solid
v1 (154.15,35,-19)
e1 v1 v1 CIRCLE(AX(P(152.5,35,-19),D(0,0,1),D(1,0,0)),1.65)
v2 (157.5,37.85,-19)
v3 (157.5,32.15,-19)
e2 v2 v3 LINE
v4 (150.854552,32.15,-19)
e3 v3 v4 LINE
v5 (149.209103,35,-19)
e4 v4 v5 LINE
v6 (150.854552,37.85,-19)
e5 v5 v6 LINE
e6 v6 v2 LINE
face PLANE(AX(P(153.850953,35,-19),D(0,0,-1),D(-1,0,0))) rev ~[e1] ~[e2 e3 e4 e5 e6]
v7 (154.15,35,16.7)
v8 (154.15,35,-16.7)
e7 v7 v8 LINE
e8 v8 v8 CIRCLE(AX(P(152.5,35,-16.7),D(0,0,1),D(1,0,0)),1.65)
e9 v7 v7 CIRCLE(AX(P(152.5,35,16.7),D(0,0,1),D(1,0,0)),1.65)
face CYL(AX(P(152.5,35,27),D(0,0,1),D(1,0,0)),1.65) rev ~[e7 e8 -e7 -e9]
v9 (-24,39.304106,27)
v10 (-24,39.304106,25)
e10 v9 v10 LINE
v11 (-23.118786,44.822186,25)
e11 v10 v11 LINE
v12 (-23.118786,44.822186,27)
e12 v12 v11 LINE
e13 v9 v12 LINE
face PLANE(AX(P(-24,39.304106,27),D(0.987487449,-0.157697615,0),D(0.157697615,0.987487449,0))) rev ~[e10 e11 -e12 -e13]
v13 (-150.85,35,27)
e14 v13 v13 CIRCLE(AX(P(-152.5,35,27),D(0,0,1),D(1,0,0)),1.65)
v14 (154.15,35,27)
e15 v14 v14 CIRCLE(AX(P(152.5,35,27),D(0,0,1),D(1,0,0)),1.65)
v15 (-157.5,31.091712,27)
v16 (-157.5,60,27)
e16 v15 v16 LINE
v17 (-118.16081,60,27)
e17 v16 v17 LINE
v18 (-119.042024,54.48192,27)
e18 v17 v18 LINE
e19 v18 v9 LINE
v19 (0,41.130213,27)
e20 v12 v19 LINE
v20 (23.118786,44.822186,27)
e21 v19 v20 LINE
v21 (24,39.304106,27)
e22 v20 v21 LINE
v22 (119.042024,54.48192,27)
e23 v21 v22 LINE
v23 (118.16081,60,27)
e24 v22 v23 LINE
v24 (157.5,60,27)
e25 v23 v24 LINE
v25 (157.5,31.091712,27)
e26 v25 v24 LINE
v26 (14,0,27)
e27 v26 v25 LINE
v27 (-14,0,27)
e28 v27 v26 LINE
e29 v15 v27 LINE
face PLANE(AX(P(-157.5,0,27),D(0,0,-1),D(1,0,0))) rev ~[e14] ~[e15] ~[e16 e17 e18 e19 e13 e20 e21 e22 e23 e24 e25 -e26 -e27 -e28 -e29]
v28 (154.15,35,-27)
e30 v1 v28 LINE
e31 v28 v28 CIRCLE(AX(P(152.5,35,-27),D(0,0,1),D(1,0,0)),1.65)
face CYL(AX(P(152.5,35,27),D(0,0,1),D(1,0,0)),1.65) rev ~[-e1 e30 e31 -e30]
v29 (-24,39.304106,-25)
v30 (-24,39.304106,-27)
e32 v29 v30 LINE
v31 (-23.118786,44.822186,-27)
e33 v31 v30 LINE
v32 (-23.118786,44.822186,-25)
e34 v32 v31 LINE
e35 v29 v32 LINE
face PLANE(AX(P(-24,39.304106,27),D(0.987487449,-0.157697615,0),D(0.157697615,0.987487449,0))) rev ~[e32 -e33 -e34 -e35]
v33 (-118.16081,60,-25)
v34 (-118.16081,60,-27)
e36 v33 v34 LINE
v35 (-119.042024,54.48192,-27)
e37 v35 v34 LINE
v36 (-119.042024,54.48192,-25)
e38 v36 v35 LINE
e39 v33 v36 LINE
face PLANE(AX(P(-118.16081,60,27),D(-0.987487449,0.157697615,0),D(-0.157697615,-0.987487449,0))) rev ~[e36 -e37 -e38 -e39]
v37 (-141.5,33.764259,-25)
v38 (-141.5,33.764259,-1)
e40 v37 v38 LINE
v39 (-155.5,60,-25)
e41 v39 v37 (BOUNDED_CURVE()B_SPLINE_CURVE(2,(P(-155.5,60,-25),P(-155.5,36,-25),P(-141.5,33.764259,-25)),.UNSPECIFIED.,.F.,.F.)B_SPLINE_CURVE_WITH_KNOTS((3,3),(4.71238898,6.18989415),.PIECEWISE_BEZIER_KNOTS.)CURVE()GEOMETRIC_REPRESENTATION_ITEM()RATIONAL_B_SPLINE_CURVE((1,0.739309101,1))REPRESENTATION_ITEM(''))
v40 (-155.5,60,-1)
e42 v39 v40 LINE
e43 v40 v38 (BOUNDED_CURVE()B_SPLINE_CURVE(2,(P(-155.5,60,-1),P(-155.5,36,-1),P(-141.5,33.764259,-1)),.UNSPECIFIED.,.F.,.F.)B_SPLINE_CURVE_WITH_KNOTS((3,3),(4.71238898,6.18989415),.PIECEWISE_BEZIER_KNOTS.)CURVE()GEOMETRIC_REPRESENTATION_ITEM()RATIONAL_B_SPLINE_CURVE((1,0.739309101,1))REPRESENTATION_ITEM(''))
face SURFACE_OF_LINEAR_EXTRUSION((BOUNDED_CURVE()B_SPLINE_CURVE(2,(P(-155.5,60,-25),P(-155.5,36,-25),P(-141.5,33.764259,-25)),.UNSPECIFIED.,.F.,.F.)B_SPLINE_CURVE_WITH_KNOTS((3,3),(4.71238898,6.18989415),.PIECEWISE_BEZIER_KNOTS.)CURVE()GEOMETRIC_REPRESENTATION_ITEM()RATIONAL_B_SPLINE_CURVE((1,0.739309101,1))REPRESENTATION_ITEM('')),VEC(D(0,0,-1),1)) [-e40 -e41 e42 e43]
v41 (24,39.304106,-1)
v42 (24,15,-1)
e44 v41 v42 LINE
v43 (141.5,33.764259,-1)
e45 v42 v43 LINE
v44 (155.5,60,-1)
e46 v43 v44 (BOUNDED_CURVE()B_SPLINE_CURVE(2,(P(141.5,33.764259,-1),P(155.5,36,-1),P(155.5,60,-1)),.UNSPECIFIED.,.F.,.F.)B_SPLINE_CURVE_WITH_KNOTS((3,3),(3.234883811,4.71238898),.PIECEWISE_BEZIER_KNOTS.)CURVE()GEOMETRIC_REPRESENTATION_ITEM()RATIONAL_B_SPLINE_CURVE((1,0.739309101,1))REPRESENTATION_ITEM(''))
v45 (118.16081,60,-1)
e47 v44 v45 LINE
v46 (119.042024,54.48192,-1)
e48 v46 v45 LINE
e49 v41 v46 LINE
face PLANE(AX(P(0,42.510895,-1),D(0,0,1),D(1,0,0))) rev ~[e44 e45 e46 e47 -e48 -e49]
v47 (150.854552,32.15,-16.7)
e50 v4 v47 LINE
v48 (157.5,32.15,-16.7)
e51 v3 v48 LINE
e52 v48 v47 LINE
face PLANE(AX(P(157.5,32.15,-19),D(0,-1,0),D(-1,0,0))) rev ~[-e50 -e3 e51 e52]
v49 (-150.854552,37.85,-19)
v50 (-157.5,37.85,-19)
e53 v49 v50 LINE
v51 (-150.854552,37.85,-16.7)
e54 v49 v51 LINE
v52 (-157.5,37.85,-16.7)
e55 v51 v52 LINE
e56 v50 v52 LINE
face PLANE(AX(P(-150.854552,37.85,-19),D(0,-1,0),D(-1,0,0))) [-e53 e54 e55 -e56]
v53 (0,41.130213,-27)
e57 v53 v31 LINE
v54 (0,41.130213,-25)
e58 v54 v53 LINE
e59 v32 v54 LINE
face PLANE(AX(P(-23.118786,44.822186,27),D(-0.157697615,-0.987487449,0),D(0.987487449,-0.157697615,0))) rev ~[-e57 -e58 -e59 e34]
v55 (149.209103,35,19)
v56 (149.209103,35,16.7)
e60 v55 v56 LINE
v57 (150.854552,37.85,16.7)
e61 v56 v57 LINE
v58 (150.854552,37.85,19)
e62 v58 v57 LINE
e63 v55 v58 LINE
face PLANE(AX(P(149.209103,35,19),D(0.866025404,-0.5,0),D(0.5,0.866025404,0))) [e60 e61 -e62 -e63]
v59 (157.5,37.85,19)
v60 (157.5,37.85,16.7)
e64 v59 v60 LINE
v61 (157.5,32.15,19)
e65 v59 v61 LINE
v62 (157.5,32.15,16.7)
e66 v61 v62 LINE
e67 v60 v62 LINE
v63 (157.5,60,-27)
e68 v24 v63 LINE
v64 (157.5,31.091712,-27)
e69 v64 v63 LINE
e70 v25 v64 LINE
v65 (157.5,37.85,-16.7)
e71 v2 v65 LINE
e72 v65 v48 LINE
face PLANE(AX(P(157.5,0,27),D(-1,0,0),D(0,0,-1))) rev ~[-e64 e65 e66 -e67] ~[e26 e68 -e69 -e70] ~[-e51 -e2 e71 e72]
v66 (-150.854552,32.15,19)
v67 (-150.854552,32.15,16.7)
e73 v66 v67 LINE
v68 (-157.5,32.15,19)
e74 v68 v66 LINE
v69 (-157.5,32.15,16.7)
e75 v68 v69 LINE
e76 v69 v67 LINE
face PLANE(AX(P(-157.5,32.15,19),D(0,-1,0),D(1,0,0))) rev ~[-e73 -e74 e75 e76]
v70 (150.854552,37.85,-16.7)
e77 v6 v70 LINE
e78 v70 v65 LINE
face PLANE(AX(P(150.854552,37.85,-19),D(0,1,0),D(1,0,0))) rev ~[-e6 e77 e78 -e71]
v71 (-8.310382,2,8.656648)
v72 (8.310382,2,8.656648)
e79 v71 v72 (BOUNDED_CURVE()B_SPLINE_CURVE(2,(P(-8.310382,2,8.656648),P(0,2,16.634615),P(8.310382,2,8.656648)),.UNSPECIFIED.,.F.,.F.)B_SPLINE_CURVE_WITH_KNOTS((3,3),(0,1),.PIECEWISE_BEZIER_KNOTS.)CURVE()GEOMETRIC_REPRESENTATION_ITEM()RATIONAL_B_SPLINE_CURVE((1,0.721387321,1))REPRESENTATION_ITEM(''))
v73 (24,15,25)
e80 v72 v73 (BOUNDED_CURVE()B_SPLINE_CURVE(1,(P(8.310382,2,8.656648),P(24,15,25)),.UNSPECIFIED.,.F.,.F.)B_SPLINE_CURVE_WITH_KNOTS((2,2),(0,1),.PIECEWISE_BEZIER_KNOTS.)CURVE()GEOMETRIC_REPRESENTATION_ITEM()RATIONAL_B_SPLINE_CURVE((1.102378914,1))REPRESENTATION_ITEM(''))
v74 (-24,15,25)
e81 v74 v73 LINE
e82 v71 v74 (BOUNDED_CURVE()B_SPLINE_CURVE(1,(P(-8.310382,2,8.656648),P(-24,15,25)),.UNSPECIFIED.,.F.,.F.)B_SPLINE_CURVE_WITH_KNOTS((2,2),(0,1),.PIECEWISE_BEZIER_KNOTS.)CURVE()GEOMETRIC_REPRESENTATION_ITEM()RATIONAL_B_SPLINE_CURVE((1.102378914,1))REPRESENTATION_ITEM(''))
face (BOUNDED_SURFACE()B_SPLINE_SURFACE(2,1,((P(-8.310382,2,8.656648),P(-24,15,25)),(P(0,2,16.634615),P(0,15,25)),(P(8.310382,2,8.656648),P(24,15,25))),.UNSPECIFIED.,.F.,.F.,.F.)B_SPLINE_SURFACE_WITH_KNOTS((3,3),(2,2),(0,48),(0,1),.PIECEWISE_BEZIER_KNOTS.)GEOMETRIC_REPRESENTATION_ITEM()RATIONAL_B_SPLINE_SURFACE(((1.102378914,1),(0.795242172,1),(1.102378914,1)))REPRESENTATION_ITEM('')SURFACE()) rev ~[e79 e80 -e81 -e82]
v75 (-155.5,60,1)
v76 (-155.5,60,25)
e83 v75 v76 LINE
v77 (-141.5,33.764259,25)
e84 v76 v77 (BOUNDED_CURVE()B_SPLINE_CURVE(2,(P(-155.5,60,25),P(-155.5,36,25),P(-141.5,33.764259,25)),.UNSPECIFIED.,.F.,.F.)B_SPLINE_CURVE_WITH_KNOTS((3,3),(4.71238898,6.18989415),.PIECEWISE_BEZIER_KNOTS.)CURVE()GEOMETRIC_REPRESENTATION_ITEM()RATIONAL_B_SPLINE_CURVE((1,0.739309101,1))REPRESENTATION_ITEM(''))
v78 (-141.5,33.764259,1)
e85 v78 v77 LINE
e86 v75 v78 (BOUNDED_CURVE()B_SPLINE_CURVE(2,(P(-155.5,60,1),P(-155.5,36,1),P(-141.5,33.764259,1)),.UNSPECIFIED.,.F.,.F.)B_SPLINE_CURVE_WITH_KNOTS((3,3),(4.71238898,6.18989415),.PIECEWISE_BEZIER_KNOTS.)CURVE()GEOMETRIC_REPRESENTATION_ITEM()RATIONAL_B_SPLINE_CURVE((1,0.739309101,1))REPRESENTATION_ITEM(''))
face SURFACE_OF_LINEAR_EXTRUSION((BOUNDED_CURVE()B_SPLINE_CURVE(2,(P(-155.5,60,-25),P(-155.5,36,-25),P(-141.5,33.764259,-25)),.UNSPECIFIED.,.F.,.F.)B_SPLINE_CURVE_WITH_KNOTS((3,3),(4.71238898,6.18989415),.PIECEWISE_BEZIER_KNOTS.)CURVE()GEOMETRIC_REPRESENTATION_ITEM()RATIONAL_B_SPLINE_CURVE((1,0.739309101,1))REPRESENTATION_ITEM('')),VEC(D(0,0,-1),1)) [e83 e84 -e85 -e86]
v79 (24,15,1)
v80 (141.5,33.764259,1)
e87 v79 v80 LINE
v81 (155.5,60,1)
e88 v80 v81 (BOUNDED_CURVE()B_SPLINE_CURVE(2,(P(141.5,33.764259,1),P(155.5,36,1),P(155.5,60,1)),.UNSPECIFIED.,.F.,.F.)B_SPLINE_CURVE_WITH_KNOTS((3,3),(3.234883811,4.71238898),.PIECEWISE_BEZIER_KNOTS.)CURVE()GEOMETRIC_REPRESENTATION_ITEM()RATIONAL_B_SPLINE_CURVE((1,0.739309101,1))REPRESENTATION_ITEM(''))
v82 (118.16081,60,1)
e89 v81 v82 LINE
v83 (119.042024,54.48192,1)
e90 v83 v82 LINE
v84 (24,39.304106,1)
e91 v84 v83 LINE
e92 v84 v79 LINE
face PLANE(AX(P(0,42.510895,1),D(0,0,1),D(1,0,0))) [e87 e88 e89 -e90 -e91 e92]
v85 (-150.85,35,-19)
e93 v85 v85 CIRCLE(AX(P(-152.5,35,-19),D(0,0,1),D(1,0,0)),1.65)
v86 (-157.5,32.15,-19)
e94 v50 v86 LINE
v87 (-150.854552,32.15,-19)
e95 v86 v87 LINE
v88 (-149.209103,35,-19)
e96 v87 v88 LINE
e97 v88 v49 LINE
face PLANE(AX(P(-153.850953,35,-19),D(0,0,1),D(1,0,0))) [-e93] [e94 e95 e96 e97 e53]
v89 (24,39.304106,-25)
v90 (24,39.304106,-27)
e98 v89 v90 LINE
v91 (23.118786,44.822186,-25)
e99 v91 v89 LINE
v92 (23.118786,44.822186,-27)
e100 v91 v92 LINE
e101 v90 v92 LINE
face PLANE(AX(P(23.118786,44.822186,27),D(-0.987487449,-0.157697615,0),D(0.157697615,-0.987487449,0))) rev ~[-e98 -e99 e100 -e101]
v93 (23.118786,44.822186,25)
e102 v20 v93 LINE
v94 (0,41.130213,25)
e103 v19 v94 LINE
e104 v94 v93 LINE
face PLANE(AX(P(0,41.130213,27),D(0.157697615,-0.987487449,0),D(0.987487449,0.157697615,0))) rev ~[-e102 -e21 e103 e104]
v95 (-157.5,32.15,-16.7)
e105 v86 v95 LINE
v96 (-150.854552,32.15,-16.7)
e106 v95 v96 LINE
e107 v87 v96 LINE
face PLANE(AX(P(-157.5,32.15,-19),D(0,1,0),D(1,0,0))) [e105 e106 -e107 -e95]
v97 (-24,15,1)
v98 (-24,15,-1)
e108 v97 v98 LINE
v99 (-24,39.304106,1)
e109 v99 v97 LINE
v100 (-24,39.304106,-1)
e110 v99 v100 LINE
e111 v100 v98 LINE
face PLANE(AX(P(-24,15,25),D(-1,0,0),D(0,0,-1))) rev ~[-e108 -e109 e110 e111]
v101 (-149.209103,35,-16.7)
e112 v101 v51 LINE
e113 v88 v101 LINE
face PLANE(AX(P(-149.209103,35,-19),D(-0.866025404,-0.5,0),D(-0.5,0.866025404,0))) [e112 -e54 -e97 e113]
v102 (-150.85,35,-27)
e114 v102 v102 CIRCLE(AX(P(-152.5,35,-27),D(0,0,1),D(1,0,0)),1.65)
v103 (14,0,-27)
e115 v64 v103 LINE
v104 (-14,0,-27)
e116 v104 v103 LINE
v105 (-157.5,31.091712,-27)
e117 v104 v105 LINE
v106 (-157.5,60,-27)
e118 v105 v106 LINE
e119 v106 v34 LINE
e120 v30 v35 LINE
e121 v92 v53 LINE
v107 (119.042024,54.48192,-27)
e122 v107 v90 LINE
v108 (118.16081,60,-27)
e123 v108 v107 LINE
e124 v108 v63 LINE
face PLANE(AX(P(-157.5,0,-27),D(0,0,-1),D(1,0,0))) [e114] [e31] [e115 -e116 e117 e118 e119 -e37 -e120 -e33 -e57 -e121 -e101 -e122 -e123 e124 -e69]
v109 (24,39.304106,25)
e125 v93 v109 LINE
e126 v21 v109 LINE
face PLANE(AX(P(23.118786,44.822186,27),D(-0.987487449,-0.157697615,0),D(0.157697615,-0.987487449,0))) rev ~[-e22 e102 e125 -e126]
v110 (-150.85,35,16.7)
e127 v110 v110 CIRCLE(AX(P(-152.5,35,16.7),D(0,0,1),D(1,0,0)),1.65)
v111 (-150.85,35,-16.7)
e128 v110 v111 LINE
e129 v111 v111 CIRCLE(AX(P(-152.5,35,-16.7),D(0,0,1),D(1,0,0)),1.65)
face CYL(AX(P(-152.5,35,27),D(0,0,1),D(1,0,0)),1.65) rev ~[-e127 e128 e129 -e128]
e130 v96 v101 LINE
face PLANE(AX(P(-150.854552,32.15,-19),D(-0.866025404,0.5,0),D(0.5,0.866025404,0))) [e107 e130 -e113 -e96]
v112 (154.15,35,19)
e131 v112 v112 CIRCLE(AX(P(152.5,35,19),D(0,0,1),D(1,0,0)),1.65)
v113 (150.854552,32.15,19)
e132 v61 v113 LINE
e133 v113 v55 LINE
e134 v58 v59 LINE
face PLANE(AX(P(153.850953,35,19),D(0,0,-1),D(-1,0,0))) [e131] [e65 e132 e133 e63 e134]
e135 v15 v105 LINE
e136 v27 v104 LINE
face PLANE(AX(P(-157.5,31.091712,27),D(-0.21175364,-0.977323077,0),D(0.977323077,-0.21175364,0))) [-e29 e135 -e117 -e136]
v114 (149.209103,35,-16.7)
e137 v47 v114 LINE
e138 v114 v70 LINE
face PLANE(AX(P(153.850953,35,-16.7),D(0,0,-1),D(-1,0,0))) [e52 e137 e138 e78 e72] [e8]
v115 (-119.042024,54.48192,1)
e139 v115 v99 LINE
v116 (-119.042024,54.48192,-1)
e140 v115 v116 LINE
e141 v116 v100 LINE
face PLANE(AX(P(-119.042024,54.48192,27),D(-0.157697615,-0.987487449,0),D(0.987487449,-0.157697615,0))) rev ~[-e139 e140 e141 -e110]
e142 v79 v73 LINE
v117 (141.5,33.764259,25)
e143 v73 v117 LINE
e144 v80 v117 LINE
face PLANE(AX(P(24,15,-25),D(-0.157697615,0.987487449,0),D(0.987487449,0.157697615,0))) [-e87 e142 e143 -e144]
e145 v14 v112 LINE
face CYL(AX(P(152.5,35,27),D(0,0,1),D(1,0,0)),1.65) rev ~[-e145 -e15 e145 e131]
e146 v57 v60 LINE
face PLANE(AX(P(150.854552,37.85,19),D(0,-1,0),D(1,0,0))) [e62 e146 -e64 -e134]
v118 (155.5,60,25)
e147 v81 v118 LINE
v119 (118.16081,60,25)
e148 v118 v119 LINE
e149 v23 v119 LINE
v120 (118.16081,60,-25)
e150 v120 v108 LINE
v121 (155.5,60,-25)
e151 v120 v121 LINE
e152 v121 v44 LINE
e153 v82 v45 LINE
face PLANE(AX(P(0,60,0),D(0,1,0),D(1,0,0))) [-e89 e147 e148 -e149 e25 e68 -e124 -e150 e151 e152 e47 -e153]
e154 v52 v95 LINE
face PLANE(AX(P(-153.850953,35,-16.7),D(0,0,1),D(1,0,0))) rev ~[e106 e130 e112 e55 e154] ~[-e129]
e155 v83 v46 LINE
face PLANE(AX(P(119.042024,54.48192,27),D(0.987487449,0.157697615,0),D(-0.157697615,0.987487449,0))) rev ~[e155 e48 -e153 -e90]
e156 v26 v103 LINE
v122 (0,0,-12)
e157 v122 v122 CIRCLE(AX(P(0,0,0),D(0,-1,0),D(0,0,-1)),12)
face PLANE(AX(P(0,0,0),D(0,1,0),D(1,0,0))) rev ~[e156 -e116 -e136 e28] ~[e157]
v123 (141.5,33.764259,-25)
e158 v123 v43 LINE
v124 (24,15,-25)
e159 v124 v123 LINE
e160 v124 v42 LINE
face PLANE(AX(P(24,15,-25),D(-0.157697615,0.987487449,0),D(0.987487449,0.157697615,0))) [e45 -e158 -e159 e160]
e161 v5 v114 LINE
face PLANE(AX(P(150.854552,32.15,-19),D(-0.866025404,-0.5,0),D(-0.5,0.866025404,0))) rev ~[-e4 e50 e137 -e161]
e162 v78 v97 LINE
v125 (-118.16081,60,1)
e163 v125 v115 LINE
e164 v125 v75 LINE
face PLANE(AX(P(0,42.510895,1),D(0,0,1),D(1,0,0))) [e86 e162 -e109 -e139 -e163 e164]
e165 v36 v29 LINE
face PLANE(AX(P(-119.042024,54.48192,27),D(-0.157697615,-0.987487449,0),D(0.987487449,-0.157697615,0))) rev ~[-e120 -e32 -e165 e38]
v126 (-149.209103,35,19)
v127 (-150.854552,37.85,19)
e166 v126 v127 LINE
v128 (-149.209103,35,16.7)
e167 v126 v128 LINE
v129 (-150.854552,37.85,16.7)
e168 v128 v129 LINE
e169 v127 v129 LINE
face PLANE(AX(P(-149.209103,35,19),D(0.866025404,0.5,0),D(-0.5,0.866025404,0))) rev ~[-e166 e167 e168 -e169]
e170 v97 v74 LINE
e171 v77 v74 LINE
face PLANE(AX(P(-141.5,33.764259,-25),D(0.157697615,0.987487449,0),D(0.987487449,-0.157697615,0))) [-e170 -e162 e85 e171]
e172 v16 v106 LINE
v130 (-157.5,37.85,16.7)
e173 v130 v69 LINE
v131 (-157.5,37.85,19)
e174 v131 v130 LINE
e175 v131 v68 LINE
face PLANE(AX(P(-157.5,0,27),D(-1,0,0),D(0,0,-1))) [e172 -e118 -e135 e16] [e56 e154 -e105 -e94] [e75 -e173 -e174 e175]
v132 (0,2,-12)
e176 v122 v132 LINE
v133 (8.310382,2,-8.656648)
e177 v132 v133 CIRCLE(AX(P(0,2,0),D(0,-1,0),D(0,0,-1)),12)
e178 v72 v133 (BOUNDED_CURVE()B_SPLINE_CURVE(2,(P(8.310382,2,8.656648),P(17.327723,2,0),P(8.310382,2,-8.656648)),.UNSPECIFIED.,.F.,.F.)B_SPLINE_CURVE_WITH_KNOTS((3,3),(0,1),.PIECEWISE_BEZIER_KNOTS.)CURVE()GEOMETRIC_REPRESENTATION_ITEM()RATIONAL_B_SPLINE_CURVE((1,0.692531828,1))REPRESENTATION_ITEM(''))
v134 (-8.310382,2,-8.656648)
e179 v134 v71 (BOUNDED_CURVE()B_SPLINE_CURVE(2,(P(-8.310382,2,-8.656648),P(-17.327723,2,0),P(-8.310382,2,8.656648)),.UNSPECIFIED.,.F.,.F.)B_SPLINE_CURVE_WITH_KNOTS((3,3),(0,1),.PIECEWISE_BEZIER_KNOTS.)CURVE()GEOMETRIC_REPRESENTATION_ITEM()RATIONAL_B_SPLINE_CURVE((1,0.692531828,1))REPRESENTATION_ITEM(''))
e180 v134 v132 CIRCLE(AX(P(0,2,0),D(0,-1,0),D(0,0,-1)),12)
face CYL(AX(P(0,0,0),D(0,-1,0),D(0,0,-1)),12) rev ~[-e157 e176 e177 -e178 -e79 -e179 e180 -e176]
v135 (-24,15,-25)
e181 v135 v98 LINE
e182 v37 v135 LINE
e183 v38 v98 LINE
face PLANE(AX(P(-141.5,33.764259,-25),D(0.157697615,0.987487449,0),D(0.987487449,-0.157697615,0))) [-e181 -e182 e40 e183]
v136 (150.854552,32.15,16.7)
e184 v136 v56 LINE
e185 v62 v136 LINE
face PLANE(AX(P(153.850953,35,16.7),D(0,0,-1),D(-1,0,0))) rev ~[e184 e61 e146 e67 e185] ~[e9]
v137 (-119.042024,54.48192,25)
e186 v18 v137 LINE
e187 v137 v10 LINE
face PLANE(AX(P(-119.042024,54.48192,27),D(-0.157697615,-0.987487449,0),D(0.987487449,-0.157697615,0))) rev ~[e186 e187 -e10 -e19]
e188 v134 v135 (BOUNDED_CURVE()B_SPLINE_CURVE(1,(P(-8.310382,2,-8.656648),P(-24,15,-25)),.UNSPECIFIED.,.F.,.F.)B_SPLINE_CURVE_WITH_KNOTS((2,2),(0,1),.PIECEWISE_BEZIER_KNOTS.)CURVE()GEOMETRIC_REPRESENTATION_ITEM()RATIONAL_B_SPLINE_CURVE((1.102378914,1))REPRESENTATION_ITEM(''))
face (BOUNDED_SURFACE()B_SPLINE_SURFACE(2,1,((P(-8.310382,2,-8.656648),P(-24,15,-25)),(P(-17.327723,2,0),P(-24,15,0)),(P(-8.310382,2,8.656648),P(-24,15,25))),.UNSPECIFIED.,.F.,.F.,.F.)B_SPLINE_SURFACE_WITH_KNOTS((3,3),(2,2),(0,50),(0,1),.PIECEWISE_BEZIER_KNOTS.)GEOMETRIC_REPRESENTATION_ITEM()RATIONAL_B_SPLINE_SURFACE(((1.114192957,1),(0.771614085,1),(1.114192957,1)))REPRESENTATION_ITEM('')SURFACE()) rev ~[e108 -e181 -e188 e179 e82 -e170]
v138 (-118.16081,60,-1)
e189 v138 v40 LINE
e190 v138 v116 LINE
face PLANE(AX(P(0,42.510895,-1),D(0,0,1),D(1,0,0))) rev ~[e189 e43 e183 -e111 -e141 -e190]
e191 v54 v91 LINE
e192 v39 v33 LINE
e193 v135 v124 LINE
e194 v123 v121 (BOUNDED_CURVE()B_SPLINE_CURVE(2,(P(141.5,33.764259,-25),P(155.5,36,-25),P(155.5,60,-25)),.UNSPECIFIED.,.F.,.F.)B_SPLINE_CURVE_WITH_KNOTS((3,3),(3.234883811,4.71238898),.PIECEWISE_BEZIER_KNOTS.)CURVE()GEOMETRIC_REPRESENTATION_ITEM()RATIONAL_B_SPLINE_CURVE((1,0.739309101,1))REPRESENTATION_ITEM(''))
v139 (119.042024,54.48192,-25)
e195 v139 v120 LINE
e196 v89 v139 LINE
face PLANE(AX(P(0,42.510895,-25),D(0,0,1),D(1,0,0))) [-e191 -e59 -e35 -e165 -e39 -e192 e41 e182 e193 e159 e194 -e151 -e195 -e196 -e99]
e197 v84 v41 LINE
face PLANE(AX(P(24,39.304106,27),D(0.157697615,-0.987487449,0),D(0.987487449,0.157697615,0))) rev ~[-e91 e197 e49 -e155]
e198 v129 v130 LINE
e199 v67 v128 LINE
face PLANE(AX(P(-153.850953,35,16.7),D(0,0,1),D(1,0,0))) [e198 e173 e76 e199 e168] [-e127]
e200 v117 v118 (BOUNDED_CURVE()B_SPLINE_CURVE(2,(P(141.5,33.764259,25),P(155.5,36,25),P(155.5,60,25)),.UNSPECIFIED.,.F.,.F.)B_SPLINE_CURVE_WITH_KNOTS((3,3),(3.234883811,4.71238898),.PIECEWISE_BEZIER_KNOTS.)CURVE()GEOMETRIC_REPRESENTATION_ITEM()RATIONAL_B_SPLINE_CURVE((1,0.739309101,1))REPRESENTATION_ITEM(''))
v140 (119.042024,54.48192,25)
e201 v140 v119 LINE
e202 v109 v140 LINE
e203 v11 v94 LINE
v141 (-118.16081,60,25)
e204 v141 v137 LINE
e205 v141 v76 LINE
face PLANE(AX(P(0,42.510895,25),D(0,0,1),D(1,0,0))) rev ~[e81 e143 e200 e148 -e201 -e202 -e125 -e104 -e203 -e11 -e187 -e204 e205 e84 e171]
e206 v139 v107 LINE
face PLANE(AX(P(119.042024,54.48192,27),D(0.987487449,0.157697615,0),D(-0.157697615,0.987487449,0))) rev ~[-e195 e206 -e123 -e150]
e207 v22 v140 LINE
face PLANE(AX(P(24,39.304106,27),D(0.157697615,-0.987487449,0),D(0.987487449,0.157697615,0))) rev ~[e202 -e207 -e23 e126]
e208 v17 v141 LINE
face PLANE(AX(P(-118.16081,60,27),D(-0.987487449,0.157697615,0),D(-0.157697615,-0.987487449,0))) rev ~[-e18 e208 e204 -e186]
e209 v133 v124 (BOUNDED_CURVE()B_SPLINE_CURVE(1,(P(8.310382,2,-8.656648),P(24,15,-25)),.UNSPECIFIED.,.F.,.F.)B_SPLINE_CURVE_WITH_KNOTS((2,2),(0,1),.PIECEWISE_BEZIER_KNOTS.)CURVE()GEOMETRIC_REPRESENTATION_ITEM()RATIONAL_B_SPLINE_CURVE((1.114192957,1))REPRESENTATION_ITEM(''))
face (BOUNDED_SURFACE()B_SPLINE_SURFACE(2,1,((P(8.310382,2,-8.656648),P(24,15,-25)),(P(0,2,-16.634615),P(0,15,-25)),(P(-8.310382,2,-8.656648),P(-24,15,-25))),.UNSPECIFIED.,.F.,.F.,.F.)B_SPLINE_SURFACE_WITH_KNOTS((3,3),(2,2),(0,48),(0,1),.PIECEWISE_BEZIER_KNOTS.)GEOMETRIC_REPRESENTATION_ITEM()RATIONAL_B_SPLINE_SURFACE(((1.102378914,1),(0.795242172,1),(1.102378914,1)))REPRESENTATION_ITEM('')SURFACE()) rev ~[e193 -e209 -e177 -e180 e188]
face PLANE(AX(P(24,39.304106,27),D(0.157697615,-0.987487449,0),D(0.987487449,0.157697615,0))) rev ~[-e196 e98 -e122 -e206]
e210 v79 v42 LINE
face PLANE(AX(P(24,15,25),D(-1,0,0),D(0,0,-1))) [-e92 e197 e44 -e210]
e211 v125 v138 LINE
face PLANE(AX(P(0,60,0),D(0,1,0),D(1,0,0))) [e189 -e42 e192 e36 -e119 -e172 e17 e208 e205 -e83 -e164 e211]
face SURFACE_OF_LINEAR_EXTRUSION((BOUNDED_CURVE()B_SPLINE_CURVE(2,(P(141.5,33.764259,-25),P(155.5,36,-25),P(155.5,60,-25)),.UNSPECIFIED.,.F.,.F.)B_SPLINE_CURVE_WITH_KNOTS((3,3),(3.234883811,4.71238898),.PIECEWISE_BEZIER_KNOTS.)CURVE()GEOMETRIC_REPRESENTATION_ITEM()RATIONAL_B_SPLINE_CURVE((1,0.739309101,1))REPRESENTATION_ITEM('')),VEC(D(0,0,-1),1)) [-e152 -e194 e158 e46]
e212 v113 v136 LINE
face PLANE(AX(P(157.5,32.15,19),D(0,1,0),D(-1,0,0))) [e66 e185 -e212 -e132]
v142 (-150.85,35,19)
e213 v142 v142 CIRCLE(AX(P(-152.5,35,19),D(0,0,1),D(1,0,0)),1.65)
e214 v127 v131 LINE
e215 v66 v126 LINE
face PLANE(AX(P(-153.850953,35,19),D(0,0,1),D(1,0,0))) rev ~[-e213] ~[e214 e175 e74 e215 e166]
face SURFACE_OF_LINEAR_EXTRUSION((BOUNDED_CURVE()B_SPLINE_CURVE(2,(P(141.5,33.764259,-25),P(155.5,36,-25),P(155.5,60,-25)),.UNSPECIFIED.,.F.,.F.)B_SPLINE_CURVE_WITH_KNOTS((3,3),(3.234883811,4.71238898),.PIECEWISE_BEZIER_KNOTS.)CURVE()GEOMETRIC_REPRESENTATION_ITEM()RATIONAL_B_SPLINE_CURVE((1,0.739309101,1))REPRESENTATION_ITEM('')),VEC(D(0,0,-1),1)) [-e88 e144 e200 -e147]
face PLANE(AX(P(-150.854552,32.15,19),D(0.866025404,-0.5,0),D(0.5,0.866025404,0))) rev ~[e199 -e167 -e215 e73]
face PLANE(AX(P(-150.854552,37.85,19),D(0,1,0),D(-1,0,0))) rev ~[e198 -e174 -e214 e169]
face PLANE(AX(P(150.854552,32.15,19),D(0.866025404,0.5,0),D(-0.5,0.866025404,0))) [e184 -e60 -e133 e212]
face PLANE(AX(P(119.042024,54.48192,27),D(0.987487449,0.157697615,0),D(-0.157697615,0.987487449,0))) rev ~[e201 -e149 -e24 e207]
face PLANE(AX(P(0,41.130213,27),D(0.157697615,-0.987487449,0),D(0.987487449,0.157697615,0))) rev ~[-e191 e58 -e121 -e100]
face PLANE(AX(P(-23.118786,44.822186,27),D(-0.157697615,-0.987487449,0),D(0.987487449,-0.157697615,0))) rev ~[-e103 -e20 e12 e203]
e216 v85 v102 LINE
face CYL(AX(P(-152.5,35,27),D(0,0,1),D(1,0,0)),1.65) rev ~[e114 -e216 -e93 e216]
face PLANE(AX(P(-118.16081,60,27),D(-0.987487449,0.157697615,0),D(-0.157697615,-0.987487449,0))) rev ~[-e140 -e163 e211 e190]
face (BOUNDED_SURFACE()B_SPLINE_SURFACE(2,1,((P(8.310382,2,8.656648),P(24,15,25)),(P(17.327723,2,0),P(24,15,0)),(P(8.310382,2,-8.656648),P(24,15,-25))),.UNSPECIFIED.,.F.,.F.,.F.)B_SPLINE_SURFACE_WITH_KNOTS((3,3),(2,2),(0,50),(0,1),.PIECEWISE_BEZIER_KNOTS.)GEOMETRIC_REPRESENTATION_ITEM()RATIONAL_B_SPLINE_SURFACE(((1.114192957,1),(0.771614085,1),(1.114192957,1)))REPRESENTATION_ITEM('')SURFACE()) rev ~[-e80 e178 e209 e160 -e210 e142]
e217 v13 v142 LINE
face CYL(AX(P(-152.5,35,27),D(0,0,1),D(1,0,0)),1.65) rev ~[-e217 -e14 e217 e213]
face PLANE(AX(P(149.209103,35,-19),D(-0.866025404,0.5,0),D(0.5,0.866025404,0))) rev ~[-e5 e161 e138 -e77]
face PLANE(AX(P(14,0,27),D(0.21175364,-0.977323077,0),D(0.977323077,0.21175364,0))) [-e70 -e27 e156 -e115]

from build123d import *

# Parameters (mm, degrees)
SKETCH1_W               = 315
SKETCH1_H               = 54
BOSS_EXTRUDE2_DEPTH     = 60
CUT_EXTRUDE2_DEPTH      = 25
CUT_EXTRUDE2_DEPTH_BACK = 25
BOSS_EXTRUDE3_DEPTH     = 1
SKETCH9_W               = 48
SKETCH9_H               = 50
CUT_EXTRUDE5_DEPTH      = 167.012800738
SKETCH10_R              = 12
CUT_EXTRUDE6_DEPTH      = 2
SKETCH11_R              = 1.65
CUT_EXTRUDE7_DEPTH      = 177.98093121
CUT_EXTRUDE8_DEPTH      = 2.3
CUT_EXTRUDE9_DEPTH      = 2.3


with BuildPart() as part:
    # Sketch1 → Boss-Extrude2 (new body)
    with BuildSketch(Plane(origin=(0, 0, 0), x_dir=(1, 0, 0), z_dir=(0, 1, 0))):
        Rectangle(SKETCH1_W, SKETCH1_H)
    extrude(amount=BOSS_EXTRUDE2_DEPTH)

    # Sketch7 → Cut-Extrude2 (cut, two sides: drawn at the far end of the back side and taken through both)
    with BuildSketch(Plane.XY.offset(-CUT_EXTRUDE2_DEPTH_BACK)):
        with BuildLine():
            Line((-141.5, 33.764258555), (-24, 15))
            Line((-24, 15), (24, 15))
            Line((24, 15), (141.5, 33.764258555))
            add(Edge.make_bspline(
                [(141.5, 33.764258555), (155.5, 36), (155.5, 60)],
                knots=[3.234883811, 3.234883811, 3.234883811, 4.71238898, 4.71238898, 4.71238898], degree=2, weights=[1, 0.739309101, 1]))
            Line((155.5, 60), (-155.5, 60))
            add(Edge.make_bspline(
                [(-155.5, 60), (-155.5, 36), (-141.5, 33.764258555)],
                knots=[4.71238898, 4.71238898, 4.71238898, 6.18989415, 6.18989415, 6.18989415], degree=2, weights=[1, 0.739309101, 1]))
        make_face()
    extrude(amount=CUT_EXTRUDE2_DEPTH + CUT_EXTRUDE2_DEPTH_BACK, mode=Mode.SUBTRACT)

    # Sketch7<2> → Boss-Extrude3 (add, symmetric)
    with BuildSketch(Plane.XY):
        with BuildLine():
            Line((-141.5, 33.764258555), (-24, 15))
            Line((-24, 15), (24, 15))
            Line((24, 15), (141.5, 33.764258555))
            add(Edge.make_bspline(
                [(141.5, 33.764258555), (155.5, 36), (155.5, 60)],
                knots=[3.234883811, 3.234883811, 3.234883811, 4.71238898, 4.71238898, 4.71238898], degree=2, weights=[1, 0.739309101, 1]))
            Line((155.5, 60), (-155.5, 60))
            add(Edge.make_bspline(
                [(-155.5, 60), (-155.5, 36), (-141.5, 33.764258555)],
                knots=[4.71238898, 4.71238898, 4.71238898, 6.18989415, 6.18989415, 6.18989415], degree=2, weights=[1, 0.739309101, 1]))
        make_face()
    extrude(amount=BOSS_EXTRUDE3_DEPTH, both=True)

    # Sketch9 → Cut-Extrude5 (cut, through all)
    with BuildSketch(Plane(origin=(0, 15, 0), x_dir=(1, 0, 0), z_dir=(0, 1, 0))):
        Rectangle(SKETCH9_W, SKETCH9_H)
    extrude(amount=CUT_EXTRUDE5_DEPTH, mode=Mode.SUBTRACT)

    # Sketch10 → Cut-Extrude6 (cut)
    with BuildSketch(Plane.XZ):
        with Locations(Location((0, 0, 0), (0, 0, 270))):
            Circle(SKETCH10_R)
    extrude(amount=-CUT_EXTRUDE6_DEPTH, mode=Mode.SUBTRACT)

    # Sketch4 for Cut-Loft3 → Cut-Loft3 section 0
    with BuildSketch(Plane.XZ.offset(-2)):
        with BuildLine():
            # circular arc as an exact rational Bezier (weights 1, cos(half-angle), 1)
            Bezier((-8.310381938, 8.656647852), (0, 16.634614514), (8.310381938, 8.656647852), weights=[1, 0.721387321, 1])
            Bezier((8.310381938, 8.656647852), (17.327723452, 0), (8.310381938, -8.656647852), weights=[1, 0.692531828, 1])
            Bezier((8.310381938, -8.656647852), (0, -16.634614514), (-8.310381938, -8.656647852), weights=[1, 0.721387321, 1])
            Bezier((-8.310381938, -8.656647852), (-17.327723452, 0), (-8.310381938, 8.656647852), weights=[1, 0.692531828, 1])
        make_face()
    # Sketch9<2> → Cut-Loft3 section 1
    with BuildSketch(Plane(origin=(0, 15, 0), x_dir=(1, 0, 0), z_dir=(0, 1, 0))):
        with BuildLine():
            Line((-24, -25), (24, -25))
            Line((24, -25), (24, 25))
            Line((24, 25), (-24, 25))
            Line((-24, 25), (-24, -25))
        make_face()
    loft(mode=Mode.SUBTRACT)

    # Sketch11 → Cut-Extrude7 (cut, through all)
    with BuildSketch(Plane.XY.offset(27)):
        with Locations((-152.5, 35)):
            Circle(SKETCH11_R)
        with Locations((152.5, 35)):
            Circle(SKETCH11_R)
        Polygon((-157.5, 31.091711648), (-14, 0), (-157.5, 0), align=None)
        Polygon((157.5, 31.091711648), (157.5, 0), (14, 0), align=None)
        Polygon((-118.160810021, 60), (-119.042024296, 54.481920135), (-24, 39.304106369), (-23.118785725, 44.822186234), (0, 41.130212848), (23.118785725, 44.822186234), (24, 39.304106369), (119.042024296, 54.481920135), (118.160810021, 60), align=None)
    extrude(amount=-CUT_EXTRUDE7_DEPTH, mode=Mode.SUBTRACT)

    # Sketch12 → Cut-Extrude8 (cut)
    with BuildSketch(Plane.XY.offset(19)):
        Polygon((-150.854551733, 37.85), (-157.5, 37.85), (-157.5, 32.15), (-150.854551733, 32.15), (-149.209103466, 35), align=None)
        Polygon((157.5, 37.85), (157.5, 32.15), (150.854551733, 32.15), (149.209103466, 35), (150.854551733, 37.85), align=None)
    extrude(amount=-CUT_EXTRUDE8_DEPTH, mode=Mode.SUBTRACT)

    # Sketch13 → Cut-Extrude9 (cut)
    with BuildSketch(Plane(origin=(0, 0, -19), x_dir=(-1, 0, 0), z_dir=(0, 0, -1))):
        Polygon((-150.854551733, 37.85), (-157.5, 37.85), (-157.5, 32.15), (-150.854551733, 32.15), (-149.209103466, 35), align=None)
        Polygon((157.5, 37.85), (157.5, 32.15), (150.854551733, 32.15), (149.209103466, 35), (150.854551733, 37.85), align=None)
    extrude(amount=-CUT_EXTRUDE9_DEPTH, mode=Mode.SUBTRACT)


solid = part.part
